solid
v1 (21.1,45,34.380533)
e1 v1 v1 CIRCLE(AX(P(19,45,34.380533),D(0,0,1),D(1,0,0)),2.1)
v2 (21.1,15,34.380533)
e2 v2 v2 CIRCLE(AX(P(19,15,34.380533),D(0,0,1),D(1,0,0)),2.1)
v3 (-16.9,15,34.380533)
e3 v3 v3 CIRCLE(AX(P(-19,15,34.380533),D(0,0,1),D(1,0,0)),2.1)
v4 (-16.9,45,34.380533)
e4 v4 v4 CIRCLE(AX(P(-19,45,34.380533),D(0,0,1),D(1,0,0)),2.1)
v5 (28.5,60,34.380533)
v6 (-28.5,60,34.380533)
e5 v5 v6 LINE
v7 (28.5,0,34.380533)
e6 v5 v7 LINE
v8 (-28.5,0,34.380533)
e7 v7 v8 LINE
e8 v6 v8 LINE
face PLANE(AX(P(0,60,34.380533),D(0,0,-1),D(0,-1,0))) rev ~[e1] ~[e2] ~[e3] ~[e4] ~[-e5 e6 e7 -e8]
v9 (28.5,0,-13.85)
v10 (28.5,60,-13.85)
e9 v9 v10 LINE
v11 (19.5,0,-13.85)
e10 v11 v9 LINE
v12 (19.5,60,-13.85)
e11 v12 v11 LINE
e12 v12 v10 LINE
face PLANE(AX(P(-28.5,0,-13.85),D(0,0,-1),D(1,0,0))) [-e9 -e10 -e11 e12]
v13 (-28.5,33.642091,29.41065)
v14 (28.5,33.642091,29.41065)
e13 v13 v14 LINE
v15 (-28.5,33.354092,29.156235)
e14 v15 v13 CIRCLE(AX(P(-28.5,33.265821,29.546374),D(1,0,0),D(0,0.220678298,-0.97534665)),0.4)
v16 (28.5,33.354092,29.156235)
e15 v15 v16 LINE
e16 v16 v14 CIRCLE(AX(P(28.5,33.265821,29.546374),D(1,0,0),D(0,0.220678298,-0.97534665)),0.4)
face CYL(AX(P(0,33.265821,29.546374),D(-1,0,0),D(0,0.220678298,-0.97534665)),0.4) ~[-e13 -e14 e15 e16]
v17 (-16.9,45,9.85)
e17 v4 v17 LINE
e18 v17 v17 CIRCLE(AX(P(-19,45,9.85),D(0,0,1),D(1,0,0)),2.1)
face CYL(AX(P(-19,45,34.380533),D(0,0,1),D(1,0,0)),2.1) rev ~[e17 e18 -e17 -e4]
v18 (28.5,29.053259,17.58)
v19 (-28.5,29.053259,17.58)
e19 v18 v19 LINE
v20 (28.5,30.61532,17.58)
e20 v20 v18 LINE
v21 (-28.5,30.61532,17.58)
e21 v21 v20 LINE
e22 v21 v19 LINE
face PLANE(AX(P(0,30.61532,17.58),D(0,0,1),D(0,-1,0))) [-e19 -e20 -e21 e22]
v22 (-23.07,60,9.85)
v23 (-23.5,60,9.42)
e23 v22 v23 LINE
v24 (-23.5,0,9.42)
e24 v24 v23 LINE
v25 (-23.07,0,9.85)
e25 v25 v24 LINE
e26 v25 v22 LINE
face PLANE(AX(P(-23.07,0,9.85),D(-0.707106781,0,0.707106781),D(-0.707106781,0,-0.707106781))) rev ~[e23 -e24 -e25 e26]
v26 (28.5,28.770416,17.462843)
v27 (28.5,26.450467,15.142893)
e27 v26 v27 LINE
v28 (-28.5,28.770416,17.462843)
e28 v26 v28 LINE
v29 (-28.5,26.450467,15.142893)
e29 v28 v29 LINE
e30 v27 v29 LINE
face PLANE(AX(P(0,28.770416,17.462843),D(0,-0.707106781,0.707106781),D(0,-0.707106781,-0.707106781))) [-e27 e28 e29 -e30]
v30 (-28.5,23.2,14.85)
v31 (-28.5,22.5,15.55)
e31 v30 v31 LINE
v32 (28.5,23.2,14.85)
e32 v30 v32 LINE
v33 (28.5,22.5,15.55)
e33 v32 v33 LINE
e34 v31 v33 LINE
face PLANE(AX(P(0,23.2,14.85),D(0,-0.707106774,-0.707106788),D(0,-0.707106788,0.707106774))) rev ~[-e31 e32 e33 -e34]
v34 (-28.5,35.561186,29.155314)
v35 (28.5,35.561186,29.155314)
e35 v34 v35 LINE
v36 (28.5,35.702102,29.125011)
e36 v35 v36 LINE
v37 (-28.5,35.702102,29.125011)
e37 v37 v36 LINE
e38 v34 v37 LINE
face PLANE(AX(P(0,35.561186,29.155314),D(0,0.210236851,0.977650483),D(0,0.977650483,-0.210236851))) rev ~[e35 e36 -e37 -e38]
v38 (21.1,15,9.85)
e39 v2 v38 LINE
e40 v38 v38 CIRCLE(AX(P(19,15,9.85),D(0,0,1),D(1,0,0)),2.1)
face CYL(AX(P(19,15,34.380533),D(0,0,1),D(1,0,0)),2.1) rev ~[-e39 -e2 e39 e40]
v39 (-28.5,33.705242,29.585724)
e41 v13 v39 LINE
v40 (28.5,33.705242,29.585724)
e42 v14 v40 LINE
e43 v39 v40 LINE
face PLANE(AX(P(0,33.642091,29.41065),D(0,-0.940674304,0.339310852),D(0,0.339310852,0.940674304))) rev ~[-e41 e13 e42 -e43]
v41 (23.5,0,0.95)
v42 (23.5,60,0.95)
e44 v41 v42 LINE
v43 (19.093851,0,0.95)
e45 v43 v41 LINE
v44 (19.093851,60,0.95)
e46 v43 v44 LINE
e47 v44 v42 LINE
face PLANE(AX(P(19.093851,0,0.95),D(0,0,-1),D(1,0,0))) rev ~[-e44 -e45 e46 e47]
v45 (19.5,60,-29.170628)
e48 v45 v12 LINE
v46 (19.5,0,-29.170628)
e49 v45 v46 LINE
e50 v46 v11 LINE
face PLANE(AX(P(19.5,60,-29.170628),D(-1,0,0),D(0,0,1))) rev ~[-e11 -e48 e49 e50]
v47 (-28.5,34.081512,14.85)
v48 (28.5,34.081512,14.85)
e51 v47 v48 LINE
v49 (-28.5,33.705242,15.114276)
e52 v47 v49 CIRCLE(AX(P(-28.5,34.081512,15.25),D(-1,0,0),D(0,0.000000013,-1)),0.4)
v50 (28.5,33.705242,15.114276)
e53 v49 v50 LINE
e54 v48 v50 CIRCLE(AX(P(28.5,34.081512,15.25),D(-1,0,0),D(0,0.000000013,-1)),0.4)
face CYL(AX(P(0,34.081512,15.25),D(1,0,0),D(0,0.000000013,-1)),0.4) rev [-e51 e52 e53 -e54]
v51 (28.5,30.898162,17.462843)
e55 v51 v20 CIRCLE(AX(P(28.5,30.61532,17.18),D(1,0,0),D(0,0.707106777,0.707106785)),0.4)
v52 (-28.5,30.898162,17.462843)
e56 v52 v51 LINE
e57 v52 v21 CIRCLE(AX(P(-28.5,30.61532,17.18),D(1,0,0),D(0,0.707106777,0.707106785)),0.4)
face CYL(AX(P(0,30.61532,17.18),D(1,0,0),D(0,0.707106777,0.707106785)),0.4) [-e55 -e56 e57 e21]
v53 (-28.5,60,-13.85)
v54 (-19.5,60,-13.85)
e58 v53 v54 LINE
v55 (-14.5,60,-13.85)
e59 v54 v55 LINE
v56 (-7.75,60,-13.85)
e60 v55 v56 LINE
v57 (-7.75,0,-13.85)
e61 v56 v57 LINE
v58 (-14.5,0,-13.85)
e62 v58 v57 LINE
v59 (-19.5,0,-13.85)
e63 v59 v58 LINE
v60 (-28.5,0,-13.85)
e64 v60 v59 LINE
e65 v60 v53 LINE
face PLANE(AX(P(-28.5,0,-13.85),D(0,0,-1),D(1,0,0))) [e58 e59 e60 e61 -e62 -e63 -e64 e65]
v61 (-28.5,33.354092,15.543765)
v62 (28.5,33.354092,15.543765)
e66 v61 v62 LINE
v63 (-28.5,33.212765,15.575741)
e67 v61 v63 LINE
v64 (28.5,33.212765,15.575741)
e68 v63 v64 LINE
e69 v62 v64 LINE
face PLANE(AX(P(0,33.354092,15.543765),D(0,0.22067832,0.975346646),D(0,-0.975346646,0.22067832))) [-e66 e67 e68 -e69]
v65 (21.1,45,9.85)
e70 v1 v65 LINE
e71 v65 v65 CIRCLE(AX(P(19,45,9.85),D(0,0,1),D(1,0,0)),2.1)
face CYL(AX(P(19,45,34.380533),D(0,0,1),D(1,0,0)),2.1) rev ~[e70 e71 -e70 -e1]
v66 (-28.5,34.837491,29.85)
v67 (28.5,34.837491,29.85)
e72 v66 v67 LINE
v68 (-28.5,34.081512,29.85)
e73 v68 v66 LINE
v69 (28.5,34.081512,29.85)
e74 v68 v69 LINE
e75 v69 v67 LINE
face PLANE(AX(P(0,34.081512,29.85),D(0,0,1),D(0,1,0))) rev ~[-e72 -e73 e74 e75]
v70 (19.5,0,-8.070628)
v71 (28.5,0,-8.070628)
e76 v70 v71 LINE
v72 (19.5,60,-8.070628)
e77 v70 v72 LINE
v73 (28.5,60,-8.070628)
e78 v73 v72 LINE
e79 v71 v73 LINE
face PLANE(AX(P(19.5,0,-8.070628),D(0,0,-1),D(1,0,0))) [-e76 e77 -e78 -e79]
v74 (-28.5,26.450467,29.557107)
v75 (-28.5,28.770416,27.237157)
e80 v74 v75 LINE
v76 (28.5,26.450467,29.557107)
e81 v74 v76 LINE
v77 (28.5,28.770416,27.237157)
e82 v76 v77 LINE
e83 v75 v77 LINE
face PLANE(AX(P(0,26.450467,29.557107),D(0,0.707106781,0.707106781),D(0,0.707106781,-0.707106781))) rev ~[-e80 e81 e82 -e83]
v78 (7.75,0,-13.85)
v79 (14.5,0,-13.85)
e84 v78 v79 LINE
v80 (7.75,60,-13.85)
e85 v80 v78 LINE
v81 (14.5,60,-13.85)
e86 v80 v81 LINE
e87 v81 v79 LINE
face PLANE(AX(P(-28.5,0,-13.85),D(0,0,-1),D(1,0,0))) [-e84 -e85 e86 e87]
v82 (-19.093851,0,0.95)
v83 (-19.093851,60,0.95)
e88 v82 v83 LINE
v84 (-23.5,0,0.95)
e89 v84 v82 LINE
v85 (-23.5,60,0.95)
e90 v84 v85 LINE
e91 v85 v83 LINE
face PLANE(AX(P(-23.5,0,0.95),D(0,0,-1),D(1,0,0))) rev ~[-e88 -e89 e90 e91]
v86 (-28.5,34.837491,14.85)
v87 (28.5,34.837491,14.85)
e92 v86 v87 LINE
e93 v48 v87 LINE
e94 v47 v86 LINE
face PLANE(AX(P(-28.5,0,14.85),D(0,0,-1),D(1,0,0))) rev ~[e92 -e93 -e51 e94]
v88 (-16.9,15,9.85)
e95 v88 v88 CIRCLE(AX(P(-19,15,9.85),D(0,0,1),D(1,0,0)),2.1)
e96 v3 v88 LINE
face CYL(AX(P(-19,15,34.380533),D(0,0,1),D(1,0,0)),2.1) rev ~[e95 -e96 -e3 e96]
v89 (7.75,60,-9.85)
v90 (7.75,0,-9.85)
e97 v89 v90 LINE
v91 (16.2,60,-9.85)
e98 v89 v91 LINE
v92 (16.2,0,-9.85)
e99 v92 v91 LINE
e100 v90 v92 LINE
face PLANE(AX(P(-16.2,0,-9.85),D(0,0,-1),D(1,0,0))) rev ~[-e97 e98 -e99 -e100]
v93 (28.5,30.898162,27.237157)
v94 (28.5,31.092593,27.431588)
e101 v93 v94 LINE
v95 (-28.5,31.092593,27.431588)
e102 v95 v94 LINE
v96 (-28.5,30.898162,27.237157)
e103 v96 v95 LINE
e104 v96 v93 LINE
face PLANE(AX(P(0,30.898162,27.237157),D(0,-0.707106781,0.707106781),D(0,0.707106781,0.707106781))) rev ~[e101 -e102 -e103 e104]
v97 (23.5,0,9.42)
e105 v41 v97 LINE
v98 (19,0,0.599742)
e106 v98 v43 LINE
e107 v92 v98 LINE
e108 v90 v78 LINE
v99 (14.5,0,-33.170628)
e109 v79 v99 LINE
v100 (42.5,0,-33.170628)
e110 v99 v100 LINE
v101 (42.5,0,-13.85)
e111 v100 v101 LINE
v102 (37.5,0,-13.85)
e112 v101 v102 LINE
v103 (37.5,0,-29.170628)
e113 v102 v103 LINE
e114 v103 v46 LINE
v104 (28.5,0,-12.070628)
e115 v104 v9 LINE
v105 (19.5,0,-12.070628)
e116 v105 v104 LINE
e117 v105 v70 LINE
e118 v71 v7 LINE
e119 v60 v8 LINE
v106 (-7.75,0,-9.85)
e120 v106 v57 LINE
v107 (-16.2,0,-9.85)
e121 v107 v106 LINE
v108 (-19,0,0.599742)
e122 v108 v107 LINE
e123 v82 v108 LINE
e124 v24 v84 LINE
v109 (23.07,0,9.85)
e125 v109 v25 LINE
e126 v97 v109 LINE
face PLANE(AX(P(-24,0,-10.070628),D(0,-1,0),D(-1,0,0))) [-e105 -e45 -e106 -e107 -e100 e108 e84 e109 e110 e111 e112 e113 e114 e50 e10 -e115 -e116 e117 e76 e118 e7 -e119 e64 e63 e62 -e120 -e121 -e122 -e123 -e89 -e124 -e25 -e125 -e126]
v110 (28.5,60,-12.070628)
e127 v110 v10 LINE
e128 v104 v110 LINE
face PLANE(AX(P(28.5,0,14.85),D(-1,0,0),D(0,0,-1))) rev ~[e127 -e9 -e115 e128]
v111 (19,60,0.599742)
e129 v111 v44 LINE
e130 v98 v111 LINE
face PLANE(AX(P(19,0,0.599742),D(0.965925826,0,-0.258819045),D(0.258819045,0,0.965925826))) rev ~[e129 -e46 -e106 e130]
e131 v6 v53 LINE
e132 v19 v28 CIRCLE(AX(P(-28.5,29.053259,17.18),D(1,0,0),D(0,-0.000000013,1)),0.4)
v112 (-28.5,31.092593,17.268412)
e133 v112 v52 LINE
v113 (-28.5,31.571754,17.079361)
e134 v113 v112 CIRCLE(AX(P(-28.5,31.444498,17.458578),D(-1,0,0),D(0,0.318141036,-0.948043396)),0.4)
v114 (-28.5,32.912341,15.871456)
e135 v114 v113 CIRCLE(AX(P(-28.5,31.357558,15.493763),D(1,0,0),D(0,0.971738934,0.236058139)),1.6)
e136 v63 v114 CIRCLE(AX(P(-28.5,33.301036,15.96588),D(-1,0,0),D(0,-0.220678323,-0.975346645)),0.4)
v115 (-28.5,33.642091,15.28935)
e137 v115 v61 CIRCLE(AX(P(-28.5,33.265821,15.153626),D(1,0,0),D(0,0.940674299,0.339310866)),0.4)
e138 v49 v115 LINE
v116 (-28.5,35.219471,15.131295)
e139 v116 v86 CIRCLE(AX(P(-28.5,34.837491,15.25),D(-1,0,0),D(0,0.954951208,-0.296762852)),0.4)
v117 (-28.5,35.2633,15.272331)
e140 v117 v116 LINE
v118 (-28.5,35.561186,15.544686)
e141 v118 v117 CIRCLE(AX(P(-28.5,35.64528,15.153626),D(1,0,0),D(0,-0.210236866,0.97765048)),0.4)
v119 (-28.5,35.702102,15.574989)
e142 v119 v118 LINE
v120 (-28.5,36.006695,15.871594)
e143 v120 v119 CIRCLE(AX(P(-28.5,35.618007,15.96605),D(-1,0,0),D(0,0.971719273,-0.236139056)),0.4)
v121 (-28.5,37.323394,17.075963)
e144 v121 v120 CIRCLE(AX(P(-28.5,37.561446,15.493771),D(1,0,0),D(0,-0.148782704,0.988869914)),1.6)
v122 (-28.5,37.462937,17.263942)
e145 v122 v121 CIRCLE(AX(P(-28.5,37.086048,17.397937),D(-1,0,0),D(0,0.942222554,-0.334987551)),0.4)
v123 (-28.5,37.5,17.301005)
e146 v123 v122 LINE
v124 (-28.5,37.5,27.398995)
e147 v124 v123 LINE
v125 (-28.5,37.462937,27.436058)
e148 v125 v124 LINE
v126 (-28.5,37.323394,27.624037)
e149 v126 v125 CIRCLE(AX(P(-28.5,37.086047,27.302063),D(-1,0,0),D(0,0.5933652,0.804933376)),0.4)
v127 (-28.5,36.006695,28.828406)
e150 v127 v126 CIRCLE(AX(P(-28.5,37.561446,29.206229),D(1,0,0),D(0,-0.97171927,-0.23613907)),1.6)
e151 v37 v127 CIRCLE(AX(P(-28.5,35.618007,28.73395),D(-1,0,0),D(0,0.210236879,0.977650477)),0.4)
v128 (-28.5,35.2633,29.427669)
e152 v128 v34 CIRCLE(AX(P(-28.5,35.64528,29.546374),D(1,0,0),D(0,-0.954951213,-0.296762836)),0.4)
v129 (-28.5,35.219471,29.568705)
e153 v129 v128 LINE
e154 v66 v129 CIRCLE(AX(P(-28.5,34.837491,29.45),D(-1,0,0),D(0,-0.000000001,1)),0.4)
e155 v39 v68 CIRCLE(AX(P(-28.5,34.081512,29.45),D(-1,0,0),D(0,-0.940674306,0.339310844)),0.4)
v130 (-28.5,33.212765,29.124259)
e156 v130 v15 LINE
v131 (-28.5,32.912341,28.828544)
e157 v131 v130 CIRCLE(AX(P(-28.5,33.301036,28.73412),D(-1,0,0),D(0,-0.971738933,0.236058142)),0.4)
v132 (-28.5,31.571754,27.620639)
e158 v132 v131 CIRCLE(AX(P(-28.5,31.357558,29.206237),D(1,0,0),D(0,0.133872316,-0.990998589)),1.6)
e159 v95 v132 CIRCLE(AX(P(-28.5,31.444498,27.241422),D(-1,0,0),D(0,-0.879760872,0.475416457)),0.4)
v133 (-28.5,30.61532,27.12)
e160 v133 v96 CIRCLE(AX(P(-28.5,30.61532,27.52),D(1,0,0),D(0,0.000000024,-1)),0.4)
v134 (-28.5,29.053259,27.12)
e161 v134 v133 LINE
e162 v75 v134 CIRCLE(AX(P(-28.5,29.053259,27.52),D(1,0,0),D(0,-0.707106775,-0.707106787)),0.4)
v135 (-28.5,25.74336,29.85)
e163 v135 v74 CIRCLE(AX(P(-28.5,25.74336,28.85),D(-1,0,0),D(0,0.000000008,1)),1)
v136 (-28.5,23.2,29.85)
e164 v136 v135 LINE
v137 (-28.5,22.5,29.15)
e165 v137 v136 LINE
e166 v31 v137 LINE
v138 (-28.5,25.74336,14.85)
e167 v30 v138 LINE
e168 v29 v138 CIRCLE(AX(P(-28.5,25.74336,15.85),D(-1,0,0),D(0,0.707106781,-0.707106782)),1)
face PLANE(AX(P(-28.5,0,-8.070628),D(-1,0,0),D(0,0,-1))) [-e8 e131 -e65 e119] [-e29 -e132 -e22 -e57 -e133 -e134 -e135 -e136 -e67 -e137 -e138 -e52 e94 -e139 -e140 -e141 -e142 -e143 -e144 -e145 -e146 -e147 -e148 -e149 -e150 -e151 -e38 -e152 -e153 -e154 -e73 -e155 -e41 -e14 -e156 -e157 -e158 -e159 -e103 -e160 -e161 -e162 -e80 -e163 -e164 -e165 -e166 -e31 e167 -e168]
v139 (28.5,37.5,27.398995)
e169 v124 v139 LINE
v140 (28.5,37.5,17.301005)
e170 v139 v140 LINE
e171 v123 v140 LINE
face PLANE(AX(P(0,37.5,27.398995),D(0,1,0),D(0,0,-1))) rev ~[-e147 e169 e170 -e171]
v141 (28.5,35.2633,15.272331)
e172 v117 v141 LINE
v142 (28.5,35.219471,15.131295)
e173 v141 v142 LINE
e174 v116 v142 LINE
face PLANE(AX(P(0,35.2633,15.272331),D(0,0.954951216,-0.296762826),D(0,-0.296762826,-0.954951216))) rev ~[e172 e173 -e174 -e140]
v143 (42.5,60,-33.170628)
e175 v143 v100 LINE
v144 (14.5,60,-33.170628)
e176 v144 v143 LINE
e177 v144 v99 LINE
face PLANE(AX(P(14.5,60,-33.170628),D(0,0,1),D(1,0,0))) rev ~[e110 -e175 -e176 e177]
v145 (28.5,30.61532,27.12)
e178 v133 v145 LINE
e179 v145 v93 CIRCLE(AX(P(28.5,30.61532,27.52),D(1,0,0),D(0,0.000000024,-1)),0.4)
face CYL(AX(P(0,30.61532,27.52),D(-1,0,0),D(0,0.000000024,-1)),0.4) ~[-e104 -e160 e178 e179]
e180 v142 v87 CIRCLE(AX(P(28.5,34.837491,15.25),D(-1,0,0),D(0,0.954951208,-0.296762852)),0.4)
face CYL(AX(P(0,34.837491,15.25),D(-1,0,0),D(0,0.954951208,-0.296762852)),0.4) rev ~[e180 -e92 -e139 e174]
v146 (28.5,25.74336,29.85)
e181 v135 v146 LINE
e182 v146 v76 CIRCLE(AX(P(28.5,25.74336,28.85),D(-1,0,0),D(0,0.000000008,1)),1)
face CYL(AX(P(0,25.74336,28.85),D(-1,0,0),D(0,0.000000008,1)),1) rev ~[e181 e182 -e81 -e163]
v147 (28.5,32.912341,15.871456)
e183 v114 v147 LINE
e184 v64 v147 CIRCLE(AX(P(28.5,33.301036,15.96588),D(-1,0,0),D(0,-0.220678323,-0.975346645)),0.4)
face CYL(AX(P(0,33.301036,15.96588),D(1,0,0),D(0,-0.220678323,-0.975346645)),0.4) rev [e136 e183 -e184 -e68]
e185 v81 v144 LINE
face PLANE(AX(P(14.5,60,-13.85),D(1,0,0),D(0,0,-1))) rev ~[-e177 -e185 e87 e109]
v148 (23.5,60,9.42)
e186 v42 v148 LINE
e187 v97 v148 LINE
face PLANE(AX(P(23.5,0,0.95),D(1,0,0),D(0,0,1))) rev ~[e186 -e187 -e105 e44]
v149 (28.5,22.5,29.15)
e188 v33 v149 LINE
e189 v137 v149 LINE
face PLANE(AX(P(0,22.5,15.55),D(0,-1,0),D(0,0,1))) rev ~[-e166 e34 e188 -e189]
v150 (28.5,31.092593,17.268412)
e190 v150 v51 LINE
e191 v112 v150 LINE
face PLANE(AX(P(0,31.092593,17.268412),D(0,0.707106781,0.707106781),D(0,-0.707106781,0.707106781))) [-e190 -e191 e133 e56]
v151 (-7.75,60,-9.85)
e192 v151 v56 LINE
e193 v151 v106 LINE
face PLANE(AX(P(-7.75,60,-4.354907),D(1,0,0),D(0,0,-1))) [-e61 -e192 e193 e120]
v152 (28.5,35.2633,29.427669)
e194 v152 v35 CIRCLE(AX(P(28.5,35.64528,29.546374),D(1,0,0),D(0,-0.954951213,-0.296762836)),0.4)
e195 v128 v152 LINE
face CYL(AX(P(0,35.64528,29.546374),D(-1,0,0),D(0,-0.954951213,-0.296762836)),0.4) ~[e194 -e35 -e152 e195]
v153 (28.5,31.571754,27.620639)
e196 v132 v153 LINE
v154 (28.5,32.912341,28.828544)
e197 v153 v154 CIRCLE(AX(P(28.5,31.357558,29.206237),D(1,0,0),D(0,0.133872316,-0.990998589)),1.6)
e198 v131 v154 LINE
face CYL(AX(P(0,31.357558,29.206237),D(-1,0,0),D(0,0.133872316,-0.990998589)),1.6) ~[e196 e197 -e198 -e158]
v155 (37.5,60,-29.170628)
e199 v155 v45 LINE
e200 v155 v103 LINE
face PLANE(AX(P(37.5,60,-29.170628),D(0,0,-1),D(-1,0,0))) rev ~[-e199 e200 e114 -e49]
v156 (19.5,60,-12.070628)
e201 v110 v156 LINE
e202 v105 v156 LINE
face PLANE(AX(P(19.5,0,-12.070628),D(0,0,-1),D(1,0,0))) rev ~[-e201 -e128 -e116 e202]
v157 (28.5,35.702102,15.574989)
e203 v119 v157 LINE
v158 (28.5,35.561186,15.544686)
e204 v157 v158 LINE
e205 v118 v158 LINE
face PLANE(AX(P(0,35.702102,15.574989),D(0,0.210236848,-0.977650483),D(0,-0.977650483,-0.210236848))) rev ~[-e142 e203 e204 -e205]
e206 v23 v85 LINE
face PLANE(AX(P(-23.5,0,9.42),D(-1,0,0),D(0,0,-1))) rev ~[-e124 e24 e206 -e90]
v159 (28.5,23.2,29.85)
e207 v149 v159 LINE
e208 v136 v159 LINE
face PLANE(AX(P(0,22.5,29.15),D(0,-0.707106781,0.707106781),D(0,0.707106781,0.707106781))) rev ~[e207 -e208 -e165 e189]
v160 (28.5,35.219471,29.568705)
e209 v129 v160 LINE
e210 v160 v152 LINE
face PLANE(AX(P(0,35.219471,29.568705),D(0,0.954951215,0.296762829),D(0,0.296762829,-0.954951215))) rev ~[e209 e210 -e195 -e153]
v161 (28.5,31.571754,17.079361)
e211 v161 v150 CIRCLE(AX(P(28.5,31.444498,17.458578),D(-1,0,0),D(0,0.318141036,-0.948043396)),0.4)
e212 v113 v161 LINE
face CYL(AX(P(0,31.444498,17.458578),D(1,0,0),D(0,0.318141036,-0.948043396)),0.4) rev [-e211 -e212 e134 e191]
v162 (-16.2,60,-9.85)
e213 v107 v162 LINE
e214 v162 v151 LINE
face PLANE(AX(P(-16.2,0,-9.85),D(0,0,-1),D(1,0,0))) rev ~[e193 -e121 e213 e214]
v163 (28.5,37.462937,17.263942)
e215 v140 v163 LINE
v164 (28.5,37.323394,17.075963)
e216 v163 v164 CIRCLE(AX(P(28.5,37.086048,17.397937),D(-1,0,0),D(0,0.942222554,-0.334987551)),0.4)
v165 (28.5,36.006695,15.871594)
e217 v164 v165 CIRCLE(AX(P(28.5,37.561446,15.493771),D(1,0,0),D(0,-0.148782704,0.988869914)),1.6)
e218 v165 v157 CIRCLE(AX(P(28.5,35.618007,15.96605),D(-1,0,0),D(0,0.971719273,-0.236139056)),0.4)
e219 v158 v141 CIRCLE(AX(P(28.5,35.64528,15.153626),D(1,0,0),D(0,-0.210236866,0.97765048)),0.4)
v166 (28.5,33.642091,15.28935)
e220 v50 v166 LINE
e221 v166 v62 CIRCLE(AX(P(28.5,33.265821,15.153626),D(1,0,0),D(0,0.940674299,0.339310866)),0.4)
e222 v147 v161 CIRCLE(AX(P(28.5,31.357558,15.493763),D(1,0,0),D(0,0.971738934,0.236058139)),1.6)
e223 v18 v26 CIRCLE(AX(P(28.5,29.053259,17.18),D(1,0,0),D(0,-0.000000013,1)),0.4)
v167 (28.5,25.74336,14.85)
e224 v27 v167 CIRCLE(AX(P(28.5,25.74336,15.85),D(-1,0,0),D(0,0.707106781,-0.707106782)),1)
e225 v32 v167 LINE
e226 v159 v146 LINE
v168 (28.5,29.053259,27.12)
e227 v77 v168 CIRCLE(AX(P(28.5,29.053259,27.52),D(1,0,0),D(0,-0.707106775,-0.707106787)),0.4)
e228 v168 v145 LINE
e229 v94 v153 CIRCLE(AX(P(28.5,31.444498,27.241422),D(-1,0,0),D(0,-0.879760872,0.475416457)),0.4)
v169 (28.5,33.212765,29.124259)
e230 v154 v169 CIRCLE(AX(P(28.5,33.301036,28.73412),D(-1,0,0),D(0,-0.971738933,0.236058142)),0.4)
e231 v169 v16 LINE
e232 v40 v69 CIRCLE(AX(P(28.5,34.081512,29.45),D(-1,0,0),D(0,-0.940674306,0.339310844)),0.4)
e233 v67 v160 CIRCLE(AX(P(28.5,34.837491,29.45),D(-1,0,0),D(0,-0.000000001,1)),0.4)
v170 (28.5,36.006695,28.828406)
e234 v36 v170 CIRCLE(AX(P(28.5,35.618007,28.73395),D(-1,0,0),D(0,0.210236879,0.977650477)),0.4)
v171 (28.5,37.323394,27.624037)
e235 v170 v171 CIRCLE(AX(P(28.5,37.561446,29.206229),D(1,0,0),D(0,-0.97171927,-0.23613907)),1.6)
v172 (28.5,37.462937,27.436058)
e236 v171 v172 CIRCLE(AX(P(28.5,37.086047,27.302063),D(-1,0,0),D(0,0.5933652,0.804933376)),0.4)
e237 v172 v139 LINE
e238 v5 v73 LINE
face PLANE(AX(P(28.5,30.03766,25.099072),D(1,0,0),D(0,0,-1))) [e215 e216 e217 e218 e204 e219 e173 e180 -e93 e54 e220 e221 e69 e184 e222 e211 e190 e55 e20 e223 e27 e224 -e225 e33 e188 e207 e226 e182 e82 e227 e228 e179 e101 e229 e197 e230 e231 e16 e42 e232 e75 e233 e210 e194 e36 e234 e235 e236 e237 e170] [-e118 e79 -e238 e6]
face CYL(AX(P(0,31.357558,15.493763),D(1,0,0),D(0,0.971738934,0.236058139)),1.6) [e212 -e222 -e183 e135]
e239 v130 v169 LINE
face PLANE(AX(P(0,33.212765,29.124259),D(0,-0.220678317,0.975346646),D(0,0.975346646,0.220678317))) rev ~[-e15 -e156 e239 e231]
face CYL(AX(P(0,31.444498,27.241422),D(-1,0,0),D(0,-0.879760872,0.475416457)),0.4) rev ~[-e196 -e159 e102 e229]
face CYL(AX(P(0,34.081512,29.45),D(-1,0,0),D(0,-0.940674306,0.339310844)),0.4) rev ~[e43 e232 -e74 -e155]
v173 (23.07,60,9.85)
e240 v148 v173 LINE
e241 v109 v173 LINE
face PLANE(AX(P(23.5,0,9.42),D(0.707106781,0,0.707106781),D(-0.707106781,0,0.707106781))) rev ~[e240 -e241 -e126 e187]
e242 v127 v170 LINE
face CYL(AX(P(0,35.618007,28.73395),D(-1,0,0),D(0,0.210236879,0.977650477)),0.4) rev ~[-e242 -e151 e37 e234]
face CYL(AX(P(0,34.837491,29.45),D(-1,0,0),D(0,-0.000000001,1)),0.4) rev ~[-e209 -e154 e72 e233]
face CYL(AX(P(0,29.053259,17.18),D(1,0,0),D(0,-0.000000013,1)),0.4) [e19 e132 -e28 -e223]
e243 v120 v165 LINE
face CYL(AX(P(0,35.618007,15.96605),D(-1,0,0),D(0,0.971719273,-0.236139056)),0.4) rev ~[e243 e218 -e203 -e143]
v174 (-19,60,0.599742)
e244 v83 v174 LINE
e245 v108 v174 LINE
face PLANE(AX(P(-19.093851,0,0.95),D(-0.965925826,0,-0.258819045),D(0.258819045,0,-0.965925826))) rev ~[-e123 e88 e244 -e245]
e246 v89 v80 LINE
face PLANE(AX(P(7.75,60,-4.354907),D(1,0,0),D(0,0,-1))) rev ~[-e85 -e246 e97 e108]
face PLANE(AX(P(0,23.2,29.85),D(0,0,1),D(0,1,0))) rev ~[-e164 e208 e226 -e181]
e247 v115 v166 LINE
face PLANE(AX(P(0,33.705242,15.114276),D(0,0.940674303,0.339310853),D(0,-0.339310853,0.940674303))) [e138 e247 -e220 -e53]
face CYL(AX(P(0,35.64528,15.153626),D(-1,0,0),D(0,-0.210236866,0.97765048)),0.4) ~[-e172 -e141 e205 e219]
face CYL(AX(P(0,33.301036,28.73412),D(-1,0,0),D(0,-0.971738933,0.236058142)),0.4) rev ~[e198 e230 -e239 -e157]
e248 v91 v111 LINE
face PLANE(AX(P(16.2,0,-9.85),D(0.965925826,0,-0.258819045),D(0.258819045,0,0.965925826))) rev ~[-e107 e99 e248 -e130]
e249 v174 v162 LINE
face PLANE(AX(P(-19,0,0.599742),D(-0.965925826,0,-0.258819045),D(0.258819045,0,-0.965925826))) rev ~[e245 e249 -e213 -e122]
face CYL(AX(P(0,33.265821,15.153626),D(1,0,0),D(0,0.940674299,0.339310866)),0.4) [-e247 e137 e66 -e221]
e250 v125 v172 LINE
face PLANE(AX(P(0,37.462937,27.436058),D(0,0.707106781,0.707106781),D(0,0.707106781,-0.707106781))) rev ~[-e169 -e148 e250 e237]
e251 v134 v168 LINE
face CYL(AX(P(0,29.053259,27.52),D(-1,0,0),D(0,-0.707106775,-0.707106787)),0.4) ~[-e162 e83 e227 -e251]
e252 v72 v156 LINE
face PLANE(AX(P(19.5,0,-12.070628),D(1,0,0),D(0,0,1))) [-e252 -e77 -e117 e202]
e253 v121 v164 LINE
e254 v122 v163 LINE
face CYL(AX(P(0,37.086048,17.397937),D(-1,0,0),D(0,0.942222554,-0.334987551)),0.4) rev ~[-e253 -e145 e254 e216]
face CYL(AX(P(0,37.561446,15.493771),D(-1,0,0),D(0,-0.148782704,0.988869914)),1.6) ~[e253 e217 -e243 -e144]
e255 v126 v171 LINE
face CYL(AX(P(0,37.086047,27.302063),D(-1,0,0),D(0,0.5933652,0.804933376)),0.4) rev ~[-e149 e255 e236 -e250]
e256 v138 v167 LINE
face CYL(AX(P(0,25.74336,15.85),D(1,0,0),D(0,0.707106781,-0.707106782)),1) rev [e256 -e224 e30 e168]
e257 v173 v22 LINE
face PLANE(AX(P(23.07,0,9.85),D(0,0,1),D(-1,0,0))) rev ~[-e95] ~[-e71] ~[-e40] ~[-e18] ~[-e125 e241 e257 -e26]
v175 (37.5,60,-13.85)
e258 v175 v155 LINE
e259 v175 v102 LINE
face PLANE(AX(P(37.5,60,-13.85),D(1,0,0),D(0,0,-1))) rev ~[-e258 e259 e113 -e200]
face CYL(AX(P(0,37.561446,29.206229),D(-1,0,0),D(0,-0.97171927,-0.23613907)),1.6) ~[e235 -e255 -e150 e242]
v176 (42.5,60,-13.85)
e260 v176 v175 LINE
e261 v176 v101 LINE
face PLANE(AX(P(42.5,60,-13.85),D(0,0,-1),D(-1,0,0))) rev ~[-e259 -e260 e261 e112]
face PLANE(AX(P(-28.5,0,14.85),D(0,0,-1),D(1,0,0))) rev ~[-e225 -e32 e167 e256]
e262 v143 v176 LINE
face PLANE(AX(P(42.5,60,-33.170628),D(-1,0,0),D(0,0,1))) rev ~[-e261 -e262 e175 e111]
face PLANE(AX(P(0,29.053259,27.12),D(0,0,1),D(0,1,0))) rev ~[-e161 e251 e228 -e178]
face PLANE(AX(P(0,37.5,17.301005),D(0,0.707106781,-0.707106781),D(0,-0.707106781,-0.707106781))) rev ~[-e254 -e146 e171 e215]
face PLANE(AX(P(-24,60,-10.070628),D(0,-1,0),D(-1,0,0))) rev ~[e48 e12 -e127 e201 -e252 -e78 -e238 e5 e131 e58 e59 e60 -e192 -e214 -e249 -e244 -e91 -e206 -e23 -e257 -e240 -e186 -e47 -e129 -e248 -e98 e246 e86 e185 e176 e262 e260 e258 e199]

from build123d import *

# Parameters (mm, degrees)
SKETCH1_W           = 57
SKETCH1_H           = 28.7
BOSS_EXTRUDE1_DEPTH = 60
SKETCH2_W           = 9
SKETCH2_H           = 4
CUT_EXTRUDE1_DEPTH  = 69.064473112
BOSS_EXTRUDE2_DEPTH = 28.5
SKETCH6_W           = 15.5
SKETCH6_H           = 15.390476131
CUT_EXTRUDE2_DEPTH  = 80
BOSS_EXTRUDE5_DEPTH = 60
SKETCH10_R          = 2.1
CUT_EXTRUDE3_DEPTH  = 24.530533394
SKETCH11_W          = 40.163550966
SKETCH11_H          = 20.084690285
CUT_EXTRUDE4_DEPTH  = 82.168165413
SKETCH12_W          = 9
SKETCH12_H          = 4
BOSS_EXTRUDE6_DEPTH = 60


with BuildPart() as part:
    # Sketch1 → Boss-Extrude1 (new body)
    with BuildSketch(Plane(origin=(0, 0, 0), x_dir=(1, 0, 0), z_dir=(0, 1, 0))):
        with Locations((0, -0.5)):
            Rectangle(SKETCH1_W, SKETCH1_H)
        Polygon((23.07, -9.85), (-23.07, -9.85), (-23.5, -9.42), (-23.5, -0.95), (-19.09385128, -0.95), (-19, -0.599742255), (-16.2, 9.85), (16.2, 9.85), (19, -0.599742255), (19.09385128, -0.95), (23.5, -0.95), (23.5, -2.9), (23.5, -9.42), align=None, mode=Mode.SUBTRACT)
    extrude(amount=BOSS_EXTRUDE1_DEPTH)

    # Sketch2 → Cut-Extrude1 (cut, through all)
    with BuildSketch(Plane.XZ):
        with Locations((24, -10.0706285)):
            Rectangle(SKETCH2_W, SKETCH2_H)
        with Locations((-24, -10.0706285)):
            Rectangle(SKETCH2_W, SKETCH2_H)
    extrude(amount=-CUT_EXTRUDE1_DEPTH, mode=Mode.SUBTRACT)

    # Sketch5 → Boss-Extrude2 (add, symmetric)
    with BuildSketch(Plane(origin=(0, 0, 0), x_dir=(0, 0, -1), z_dir=(1, 0, 0))):
        with BuildLine():
            Line((-14.85, 0), (-14.85, 23.200000017))
            Line((-14.85, 23.200000017), (-15.549999973, 22.50000003))
            Line((-15.549999973, 22.50000003), (-29.149999973, 22.50000003))
            Line((-29.149999973, 22.50000003), (-29.849999973, 23.20000003))
            Line((-29.849999973, 23.20000003), (-29.849999973, 25.743360053))
            ThreePointArc((-29.849999973, 25.743360053), (-29.773879502, 26.126043492), (-29.557106746, 26.450466847))
            Line((-29.557106746, 26.450466847), (-27.237157266, 28.770416328))
            ThreePointArc((-27.237157266, 28.770416328), (-27.150448162, 28.900185674), (-27.119999973, 29.053259055))
            Line((-27.119999973, 29.053259055), (-27.119999973, 30.615319642))
            ThreePointArc((-27.119999973, 30.615319642), (-27.150448164, 30.768393021), (-27.237157268, 30.898162365))
            Line((-27.237157268, 30.898162365), (-27.431588163, 31.09259326))
            ThreePointArc((-27.431588163, 31.09259326), (-27.613507965, 31.297692563), (-27.620638933, 31.57175403))
            ThreePointArc((-27.620638933, 31.57175403), (-28.017573243, 32.42857618), (-28.828543655, 32.91234062))
            ThreePointArc((-28.828543655, 32.91234062), (-29.01918836, 33.020436377), (-29.124259054, 33.212764861))
            Line((-29.124259054, 33.212764861), (-29.156235284, 33.354092333))
            ThreePointArc((-29.156235284, 33.354092333), (-29.24659278, 33.53064407), (-29.410649592, 33.642090719))
            Line((-29.410649592, 33.642090719), (-29.585724304, 33.70524196))
            ThreePointArc((-29.585724304, 33.70524196), (-29.777329878, 33.851609246), (-29.849999973, 34.081511694))
            Line((-29.849999973, 34.081511694), (-29.849999973, 34.837490602))
            ThreePointArc((-29.849999973, 34.837490602), (-29.772088513, 35.074680338), (-29.568705112, 35.219471078))
            Line((-29.568705112, 35.219471078), (-29.427668799, 35.263299846))
            ThreePointArc((-29.427668799, 35.263299846), (-29.25116358, 35.375371369), (-29.155313737, 35.561185593))
            Line((-29.155313737, 35.561185593), (-29.125010632, 35.702102112))
            ThreePointArc((-29.125010632, 35.702102112), (-29.020526118, 35.897067182), (-28.828406063, 36.006695082))
            ThreePointArc((-28.828406063, 36.006695082), (-28.025619489, 36.481556021), (-27.62403672, 37.32339358))
            ThreePointArc((-27.62403672, 37.32339358), (-27.540484938, 37.407225271), (-27.43605838, 37.46293655))
            Line((-27.43605838, 37.46293655), (-27.39899493, 37.5))
            Line((-27.39899493, 37.5), (-17.30100503, 37.5))
            Line((-17.30100503, 37.5), (-17.26394158, 37.46293655))
            ThreePointArc((-17.26394158, 37.46293655), (-17.159515017, 37.407225278), (-17.07596324, 37.32339358))
            ThreePointArc((-17.07596324, 37.32339358), (-16.674380468, 36.481556018), (-15.871593887, 36.006695079))
            ThreePointArc((-15.871593887, 36.006695079), (-15.679473839, 35.897067189), (-15.574989331, 35.702102127))
            Line((-15.574989331, 35.702102127), (-15.544686222, 35.561185587))
            ThreePointArc((-15.544686222, 35.561185587), (-15.448836377, 35.375371364), (-15.272331158, 35.263299843))
            Line((-15.272331158, 35.263299843), (-15.131294869, 35.219471083))
            ThreePointArc((-15.131294869, 35.219471083), (-14.927911462, 35.074680333), (-14.85, 34.837490586))
            Line((-14.85, 34.837490586), (-14.85, 60))
            Line((-14.85, 60), (-34.380533394, 60))
            Line((-34.380533394, 60), (-34.380533394, 0))
            Line((-34.380533394, 0), (-14.85, 0))
        make_face()
        with BuildLine():
            ThreePointArc((-15.142893227, 26.450466847), (-14.926120471, 26.126043492), (-14.85, 25.743360053))
            Line((-14.85, 25.743360053), (-14.85, 34.081511674))
            ThreePointArc((-14.85, 34.081511674), (-14.922670087, 33.851609245), (-15.114275644, 33.70524197))
            Line((-15.114275644, 33.70524197), (-15.289350386, 33.642090718))
            ThreePointArc((-15.289350386, 33.642090718), (-15.453407192, 33.53064407), (-15.543764688, 33.354092339))
            Line((-15.543764688, 33.354092339), (-15.57574092, 33.21276486))
            ThreePointArc((-15.57574092, 33.21276486), (-15.680811613, 33.020436377), (-15.871456319, 32.91234062))
            ThreePointArc((-15.871456319, 32.91234062), (-16.68242673, 32.42857618), (-17.07936104, 31.57175403))
            ThreePointArc((-17.07936104, 31.57175403), (-17.086492012, 31.297692565), (-17.26841181, 31.09259326))
            Line((-17.26841181, 31.09259326), (-17.462842708, 30.898162362))
            ThreePointArc((-17.462842708, 30.898162362), (-17.549551812, 30.768393016), (-17.58, 30.615319635))
            Line((-17.58, 30.615319635), (-17.58, 29.053259048))
            ThreePointArc((-17.58, 29.053259048), (-17.54955181, 28.900185669), (-17.462842705, 28.770416325))
            Line((-17.462842705, 28.770416325), (-15.142893227, 26.450466847))
        make_face()
    extrude(amount=BOSS_EXTRUDE2_DEPTH, both=True)

    # Sketch6 → Cut-Extrude2 (cut)
    with BuildSketch(Plane(origin=(0, 60, 0), x_dir=(1, 0, 0), z_dir=(0, 1, 0))):
        with Locations((0, 12.050145064)):
            Rectangle(SKETCH6_W, SKETCH6_H)
    extrude(amount=-CUT_EXTRUDE2_DEPTH, mode=Mode.SUBTRACT)

    # Sketch9 → Boss-Extrude5 (add)
    with BuildSketch(Plane(origin=(0, 60, 0), x_dir=(1, 0, 0), z_dir=(0, 1, 0))):
        Polygon((-19.5, 13.85), (-19.5, 29.1706285), (-37.5, 29.1706285), (-37.5, 13.85), (-42.5, 13.85), (-42.5, 33.1706285), (-14.5, 33.1706285), (-14.5, 13.85), align=None)
        Polygon((37.5, 13.85), (37.5, 29.1706285), (19.5, 29.1706285), (19.5, 13.85), (14.5, 13.85), (14.5, 33.1706285), (42.5, 33.1706285), (42.5, 13.85), align=None)
    extrude(amount=-BOSS_EXTRUDE5_DEPTH)

    # Sketch10 → Cut-Extrude3 (cut)
    with BuildSketch(Plane.XY.offset(34.380533394)):
        with Locations((-19, 45)):
            Circle(SKETCH10_R)
        with Locations((19, 45)):
            Circle(SKETCH10_R)
        with Locations((-19, 15)):
            Circle(SKETCH10_R)
        with Locations((19, 15)):
            Circle(SKETCH10_R)
    extrude(amount=-CUT_EXTRUDE3_DEPTH, mode=Mode.SUBTRACT)

    # Sketch11 → Cut-Extrude4 (cut, through all)
    with BuildSketch(Plane.XZ):
        with Locations((-27.831775483, -23.892345143)):
            Rectangle(SKETCH11_W, SKETCH11_H)
    extrude(amount=-CUT_EXTRUDE4_DEPTH, mode=Mode.SUBTRACT)

    # Sketch12 → Boss-Extrude6 (add, through all)
    with BuildSketch(Plane(origin=(0, 0, 0), x_dir=(-1, 0, 0), z_dir=(0, -1, 0))):
        with Locations((24, 10.0706285)):
            Rectangle(SKETCH12_W, SKETCH12_H)
    extrude(amount=-BOSS_EXTRUDE6_DEPTH)


solid = part.part
